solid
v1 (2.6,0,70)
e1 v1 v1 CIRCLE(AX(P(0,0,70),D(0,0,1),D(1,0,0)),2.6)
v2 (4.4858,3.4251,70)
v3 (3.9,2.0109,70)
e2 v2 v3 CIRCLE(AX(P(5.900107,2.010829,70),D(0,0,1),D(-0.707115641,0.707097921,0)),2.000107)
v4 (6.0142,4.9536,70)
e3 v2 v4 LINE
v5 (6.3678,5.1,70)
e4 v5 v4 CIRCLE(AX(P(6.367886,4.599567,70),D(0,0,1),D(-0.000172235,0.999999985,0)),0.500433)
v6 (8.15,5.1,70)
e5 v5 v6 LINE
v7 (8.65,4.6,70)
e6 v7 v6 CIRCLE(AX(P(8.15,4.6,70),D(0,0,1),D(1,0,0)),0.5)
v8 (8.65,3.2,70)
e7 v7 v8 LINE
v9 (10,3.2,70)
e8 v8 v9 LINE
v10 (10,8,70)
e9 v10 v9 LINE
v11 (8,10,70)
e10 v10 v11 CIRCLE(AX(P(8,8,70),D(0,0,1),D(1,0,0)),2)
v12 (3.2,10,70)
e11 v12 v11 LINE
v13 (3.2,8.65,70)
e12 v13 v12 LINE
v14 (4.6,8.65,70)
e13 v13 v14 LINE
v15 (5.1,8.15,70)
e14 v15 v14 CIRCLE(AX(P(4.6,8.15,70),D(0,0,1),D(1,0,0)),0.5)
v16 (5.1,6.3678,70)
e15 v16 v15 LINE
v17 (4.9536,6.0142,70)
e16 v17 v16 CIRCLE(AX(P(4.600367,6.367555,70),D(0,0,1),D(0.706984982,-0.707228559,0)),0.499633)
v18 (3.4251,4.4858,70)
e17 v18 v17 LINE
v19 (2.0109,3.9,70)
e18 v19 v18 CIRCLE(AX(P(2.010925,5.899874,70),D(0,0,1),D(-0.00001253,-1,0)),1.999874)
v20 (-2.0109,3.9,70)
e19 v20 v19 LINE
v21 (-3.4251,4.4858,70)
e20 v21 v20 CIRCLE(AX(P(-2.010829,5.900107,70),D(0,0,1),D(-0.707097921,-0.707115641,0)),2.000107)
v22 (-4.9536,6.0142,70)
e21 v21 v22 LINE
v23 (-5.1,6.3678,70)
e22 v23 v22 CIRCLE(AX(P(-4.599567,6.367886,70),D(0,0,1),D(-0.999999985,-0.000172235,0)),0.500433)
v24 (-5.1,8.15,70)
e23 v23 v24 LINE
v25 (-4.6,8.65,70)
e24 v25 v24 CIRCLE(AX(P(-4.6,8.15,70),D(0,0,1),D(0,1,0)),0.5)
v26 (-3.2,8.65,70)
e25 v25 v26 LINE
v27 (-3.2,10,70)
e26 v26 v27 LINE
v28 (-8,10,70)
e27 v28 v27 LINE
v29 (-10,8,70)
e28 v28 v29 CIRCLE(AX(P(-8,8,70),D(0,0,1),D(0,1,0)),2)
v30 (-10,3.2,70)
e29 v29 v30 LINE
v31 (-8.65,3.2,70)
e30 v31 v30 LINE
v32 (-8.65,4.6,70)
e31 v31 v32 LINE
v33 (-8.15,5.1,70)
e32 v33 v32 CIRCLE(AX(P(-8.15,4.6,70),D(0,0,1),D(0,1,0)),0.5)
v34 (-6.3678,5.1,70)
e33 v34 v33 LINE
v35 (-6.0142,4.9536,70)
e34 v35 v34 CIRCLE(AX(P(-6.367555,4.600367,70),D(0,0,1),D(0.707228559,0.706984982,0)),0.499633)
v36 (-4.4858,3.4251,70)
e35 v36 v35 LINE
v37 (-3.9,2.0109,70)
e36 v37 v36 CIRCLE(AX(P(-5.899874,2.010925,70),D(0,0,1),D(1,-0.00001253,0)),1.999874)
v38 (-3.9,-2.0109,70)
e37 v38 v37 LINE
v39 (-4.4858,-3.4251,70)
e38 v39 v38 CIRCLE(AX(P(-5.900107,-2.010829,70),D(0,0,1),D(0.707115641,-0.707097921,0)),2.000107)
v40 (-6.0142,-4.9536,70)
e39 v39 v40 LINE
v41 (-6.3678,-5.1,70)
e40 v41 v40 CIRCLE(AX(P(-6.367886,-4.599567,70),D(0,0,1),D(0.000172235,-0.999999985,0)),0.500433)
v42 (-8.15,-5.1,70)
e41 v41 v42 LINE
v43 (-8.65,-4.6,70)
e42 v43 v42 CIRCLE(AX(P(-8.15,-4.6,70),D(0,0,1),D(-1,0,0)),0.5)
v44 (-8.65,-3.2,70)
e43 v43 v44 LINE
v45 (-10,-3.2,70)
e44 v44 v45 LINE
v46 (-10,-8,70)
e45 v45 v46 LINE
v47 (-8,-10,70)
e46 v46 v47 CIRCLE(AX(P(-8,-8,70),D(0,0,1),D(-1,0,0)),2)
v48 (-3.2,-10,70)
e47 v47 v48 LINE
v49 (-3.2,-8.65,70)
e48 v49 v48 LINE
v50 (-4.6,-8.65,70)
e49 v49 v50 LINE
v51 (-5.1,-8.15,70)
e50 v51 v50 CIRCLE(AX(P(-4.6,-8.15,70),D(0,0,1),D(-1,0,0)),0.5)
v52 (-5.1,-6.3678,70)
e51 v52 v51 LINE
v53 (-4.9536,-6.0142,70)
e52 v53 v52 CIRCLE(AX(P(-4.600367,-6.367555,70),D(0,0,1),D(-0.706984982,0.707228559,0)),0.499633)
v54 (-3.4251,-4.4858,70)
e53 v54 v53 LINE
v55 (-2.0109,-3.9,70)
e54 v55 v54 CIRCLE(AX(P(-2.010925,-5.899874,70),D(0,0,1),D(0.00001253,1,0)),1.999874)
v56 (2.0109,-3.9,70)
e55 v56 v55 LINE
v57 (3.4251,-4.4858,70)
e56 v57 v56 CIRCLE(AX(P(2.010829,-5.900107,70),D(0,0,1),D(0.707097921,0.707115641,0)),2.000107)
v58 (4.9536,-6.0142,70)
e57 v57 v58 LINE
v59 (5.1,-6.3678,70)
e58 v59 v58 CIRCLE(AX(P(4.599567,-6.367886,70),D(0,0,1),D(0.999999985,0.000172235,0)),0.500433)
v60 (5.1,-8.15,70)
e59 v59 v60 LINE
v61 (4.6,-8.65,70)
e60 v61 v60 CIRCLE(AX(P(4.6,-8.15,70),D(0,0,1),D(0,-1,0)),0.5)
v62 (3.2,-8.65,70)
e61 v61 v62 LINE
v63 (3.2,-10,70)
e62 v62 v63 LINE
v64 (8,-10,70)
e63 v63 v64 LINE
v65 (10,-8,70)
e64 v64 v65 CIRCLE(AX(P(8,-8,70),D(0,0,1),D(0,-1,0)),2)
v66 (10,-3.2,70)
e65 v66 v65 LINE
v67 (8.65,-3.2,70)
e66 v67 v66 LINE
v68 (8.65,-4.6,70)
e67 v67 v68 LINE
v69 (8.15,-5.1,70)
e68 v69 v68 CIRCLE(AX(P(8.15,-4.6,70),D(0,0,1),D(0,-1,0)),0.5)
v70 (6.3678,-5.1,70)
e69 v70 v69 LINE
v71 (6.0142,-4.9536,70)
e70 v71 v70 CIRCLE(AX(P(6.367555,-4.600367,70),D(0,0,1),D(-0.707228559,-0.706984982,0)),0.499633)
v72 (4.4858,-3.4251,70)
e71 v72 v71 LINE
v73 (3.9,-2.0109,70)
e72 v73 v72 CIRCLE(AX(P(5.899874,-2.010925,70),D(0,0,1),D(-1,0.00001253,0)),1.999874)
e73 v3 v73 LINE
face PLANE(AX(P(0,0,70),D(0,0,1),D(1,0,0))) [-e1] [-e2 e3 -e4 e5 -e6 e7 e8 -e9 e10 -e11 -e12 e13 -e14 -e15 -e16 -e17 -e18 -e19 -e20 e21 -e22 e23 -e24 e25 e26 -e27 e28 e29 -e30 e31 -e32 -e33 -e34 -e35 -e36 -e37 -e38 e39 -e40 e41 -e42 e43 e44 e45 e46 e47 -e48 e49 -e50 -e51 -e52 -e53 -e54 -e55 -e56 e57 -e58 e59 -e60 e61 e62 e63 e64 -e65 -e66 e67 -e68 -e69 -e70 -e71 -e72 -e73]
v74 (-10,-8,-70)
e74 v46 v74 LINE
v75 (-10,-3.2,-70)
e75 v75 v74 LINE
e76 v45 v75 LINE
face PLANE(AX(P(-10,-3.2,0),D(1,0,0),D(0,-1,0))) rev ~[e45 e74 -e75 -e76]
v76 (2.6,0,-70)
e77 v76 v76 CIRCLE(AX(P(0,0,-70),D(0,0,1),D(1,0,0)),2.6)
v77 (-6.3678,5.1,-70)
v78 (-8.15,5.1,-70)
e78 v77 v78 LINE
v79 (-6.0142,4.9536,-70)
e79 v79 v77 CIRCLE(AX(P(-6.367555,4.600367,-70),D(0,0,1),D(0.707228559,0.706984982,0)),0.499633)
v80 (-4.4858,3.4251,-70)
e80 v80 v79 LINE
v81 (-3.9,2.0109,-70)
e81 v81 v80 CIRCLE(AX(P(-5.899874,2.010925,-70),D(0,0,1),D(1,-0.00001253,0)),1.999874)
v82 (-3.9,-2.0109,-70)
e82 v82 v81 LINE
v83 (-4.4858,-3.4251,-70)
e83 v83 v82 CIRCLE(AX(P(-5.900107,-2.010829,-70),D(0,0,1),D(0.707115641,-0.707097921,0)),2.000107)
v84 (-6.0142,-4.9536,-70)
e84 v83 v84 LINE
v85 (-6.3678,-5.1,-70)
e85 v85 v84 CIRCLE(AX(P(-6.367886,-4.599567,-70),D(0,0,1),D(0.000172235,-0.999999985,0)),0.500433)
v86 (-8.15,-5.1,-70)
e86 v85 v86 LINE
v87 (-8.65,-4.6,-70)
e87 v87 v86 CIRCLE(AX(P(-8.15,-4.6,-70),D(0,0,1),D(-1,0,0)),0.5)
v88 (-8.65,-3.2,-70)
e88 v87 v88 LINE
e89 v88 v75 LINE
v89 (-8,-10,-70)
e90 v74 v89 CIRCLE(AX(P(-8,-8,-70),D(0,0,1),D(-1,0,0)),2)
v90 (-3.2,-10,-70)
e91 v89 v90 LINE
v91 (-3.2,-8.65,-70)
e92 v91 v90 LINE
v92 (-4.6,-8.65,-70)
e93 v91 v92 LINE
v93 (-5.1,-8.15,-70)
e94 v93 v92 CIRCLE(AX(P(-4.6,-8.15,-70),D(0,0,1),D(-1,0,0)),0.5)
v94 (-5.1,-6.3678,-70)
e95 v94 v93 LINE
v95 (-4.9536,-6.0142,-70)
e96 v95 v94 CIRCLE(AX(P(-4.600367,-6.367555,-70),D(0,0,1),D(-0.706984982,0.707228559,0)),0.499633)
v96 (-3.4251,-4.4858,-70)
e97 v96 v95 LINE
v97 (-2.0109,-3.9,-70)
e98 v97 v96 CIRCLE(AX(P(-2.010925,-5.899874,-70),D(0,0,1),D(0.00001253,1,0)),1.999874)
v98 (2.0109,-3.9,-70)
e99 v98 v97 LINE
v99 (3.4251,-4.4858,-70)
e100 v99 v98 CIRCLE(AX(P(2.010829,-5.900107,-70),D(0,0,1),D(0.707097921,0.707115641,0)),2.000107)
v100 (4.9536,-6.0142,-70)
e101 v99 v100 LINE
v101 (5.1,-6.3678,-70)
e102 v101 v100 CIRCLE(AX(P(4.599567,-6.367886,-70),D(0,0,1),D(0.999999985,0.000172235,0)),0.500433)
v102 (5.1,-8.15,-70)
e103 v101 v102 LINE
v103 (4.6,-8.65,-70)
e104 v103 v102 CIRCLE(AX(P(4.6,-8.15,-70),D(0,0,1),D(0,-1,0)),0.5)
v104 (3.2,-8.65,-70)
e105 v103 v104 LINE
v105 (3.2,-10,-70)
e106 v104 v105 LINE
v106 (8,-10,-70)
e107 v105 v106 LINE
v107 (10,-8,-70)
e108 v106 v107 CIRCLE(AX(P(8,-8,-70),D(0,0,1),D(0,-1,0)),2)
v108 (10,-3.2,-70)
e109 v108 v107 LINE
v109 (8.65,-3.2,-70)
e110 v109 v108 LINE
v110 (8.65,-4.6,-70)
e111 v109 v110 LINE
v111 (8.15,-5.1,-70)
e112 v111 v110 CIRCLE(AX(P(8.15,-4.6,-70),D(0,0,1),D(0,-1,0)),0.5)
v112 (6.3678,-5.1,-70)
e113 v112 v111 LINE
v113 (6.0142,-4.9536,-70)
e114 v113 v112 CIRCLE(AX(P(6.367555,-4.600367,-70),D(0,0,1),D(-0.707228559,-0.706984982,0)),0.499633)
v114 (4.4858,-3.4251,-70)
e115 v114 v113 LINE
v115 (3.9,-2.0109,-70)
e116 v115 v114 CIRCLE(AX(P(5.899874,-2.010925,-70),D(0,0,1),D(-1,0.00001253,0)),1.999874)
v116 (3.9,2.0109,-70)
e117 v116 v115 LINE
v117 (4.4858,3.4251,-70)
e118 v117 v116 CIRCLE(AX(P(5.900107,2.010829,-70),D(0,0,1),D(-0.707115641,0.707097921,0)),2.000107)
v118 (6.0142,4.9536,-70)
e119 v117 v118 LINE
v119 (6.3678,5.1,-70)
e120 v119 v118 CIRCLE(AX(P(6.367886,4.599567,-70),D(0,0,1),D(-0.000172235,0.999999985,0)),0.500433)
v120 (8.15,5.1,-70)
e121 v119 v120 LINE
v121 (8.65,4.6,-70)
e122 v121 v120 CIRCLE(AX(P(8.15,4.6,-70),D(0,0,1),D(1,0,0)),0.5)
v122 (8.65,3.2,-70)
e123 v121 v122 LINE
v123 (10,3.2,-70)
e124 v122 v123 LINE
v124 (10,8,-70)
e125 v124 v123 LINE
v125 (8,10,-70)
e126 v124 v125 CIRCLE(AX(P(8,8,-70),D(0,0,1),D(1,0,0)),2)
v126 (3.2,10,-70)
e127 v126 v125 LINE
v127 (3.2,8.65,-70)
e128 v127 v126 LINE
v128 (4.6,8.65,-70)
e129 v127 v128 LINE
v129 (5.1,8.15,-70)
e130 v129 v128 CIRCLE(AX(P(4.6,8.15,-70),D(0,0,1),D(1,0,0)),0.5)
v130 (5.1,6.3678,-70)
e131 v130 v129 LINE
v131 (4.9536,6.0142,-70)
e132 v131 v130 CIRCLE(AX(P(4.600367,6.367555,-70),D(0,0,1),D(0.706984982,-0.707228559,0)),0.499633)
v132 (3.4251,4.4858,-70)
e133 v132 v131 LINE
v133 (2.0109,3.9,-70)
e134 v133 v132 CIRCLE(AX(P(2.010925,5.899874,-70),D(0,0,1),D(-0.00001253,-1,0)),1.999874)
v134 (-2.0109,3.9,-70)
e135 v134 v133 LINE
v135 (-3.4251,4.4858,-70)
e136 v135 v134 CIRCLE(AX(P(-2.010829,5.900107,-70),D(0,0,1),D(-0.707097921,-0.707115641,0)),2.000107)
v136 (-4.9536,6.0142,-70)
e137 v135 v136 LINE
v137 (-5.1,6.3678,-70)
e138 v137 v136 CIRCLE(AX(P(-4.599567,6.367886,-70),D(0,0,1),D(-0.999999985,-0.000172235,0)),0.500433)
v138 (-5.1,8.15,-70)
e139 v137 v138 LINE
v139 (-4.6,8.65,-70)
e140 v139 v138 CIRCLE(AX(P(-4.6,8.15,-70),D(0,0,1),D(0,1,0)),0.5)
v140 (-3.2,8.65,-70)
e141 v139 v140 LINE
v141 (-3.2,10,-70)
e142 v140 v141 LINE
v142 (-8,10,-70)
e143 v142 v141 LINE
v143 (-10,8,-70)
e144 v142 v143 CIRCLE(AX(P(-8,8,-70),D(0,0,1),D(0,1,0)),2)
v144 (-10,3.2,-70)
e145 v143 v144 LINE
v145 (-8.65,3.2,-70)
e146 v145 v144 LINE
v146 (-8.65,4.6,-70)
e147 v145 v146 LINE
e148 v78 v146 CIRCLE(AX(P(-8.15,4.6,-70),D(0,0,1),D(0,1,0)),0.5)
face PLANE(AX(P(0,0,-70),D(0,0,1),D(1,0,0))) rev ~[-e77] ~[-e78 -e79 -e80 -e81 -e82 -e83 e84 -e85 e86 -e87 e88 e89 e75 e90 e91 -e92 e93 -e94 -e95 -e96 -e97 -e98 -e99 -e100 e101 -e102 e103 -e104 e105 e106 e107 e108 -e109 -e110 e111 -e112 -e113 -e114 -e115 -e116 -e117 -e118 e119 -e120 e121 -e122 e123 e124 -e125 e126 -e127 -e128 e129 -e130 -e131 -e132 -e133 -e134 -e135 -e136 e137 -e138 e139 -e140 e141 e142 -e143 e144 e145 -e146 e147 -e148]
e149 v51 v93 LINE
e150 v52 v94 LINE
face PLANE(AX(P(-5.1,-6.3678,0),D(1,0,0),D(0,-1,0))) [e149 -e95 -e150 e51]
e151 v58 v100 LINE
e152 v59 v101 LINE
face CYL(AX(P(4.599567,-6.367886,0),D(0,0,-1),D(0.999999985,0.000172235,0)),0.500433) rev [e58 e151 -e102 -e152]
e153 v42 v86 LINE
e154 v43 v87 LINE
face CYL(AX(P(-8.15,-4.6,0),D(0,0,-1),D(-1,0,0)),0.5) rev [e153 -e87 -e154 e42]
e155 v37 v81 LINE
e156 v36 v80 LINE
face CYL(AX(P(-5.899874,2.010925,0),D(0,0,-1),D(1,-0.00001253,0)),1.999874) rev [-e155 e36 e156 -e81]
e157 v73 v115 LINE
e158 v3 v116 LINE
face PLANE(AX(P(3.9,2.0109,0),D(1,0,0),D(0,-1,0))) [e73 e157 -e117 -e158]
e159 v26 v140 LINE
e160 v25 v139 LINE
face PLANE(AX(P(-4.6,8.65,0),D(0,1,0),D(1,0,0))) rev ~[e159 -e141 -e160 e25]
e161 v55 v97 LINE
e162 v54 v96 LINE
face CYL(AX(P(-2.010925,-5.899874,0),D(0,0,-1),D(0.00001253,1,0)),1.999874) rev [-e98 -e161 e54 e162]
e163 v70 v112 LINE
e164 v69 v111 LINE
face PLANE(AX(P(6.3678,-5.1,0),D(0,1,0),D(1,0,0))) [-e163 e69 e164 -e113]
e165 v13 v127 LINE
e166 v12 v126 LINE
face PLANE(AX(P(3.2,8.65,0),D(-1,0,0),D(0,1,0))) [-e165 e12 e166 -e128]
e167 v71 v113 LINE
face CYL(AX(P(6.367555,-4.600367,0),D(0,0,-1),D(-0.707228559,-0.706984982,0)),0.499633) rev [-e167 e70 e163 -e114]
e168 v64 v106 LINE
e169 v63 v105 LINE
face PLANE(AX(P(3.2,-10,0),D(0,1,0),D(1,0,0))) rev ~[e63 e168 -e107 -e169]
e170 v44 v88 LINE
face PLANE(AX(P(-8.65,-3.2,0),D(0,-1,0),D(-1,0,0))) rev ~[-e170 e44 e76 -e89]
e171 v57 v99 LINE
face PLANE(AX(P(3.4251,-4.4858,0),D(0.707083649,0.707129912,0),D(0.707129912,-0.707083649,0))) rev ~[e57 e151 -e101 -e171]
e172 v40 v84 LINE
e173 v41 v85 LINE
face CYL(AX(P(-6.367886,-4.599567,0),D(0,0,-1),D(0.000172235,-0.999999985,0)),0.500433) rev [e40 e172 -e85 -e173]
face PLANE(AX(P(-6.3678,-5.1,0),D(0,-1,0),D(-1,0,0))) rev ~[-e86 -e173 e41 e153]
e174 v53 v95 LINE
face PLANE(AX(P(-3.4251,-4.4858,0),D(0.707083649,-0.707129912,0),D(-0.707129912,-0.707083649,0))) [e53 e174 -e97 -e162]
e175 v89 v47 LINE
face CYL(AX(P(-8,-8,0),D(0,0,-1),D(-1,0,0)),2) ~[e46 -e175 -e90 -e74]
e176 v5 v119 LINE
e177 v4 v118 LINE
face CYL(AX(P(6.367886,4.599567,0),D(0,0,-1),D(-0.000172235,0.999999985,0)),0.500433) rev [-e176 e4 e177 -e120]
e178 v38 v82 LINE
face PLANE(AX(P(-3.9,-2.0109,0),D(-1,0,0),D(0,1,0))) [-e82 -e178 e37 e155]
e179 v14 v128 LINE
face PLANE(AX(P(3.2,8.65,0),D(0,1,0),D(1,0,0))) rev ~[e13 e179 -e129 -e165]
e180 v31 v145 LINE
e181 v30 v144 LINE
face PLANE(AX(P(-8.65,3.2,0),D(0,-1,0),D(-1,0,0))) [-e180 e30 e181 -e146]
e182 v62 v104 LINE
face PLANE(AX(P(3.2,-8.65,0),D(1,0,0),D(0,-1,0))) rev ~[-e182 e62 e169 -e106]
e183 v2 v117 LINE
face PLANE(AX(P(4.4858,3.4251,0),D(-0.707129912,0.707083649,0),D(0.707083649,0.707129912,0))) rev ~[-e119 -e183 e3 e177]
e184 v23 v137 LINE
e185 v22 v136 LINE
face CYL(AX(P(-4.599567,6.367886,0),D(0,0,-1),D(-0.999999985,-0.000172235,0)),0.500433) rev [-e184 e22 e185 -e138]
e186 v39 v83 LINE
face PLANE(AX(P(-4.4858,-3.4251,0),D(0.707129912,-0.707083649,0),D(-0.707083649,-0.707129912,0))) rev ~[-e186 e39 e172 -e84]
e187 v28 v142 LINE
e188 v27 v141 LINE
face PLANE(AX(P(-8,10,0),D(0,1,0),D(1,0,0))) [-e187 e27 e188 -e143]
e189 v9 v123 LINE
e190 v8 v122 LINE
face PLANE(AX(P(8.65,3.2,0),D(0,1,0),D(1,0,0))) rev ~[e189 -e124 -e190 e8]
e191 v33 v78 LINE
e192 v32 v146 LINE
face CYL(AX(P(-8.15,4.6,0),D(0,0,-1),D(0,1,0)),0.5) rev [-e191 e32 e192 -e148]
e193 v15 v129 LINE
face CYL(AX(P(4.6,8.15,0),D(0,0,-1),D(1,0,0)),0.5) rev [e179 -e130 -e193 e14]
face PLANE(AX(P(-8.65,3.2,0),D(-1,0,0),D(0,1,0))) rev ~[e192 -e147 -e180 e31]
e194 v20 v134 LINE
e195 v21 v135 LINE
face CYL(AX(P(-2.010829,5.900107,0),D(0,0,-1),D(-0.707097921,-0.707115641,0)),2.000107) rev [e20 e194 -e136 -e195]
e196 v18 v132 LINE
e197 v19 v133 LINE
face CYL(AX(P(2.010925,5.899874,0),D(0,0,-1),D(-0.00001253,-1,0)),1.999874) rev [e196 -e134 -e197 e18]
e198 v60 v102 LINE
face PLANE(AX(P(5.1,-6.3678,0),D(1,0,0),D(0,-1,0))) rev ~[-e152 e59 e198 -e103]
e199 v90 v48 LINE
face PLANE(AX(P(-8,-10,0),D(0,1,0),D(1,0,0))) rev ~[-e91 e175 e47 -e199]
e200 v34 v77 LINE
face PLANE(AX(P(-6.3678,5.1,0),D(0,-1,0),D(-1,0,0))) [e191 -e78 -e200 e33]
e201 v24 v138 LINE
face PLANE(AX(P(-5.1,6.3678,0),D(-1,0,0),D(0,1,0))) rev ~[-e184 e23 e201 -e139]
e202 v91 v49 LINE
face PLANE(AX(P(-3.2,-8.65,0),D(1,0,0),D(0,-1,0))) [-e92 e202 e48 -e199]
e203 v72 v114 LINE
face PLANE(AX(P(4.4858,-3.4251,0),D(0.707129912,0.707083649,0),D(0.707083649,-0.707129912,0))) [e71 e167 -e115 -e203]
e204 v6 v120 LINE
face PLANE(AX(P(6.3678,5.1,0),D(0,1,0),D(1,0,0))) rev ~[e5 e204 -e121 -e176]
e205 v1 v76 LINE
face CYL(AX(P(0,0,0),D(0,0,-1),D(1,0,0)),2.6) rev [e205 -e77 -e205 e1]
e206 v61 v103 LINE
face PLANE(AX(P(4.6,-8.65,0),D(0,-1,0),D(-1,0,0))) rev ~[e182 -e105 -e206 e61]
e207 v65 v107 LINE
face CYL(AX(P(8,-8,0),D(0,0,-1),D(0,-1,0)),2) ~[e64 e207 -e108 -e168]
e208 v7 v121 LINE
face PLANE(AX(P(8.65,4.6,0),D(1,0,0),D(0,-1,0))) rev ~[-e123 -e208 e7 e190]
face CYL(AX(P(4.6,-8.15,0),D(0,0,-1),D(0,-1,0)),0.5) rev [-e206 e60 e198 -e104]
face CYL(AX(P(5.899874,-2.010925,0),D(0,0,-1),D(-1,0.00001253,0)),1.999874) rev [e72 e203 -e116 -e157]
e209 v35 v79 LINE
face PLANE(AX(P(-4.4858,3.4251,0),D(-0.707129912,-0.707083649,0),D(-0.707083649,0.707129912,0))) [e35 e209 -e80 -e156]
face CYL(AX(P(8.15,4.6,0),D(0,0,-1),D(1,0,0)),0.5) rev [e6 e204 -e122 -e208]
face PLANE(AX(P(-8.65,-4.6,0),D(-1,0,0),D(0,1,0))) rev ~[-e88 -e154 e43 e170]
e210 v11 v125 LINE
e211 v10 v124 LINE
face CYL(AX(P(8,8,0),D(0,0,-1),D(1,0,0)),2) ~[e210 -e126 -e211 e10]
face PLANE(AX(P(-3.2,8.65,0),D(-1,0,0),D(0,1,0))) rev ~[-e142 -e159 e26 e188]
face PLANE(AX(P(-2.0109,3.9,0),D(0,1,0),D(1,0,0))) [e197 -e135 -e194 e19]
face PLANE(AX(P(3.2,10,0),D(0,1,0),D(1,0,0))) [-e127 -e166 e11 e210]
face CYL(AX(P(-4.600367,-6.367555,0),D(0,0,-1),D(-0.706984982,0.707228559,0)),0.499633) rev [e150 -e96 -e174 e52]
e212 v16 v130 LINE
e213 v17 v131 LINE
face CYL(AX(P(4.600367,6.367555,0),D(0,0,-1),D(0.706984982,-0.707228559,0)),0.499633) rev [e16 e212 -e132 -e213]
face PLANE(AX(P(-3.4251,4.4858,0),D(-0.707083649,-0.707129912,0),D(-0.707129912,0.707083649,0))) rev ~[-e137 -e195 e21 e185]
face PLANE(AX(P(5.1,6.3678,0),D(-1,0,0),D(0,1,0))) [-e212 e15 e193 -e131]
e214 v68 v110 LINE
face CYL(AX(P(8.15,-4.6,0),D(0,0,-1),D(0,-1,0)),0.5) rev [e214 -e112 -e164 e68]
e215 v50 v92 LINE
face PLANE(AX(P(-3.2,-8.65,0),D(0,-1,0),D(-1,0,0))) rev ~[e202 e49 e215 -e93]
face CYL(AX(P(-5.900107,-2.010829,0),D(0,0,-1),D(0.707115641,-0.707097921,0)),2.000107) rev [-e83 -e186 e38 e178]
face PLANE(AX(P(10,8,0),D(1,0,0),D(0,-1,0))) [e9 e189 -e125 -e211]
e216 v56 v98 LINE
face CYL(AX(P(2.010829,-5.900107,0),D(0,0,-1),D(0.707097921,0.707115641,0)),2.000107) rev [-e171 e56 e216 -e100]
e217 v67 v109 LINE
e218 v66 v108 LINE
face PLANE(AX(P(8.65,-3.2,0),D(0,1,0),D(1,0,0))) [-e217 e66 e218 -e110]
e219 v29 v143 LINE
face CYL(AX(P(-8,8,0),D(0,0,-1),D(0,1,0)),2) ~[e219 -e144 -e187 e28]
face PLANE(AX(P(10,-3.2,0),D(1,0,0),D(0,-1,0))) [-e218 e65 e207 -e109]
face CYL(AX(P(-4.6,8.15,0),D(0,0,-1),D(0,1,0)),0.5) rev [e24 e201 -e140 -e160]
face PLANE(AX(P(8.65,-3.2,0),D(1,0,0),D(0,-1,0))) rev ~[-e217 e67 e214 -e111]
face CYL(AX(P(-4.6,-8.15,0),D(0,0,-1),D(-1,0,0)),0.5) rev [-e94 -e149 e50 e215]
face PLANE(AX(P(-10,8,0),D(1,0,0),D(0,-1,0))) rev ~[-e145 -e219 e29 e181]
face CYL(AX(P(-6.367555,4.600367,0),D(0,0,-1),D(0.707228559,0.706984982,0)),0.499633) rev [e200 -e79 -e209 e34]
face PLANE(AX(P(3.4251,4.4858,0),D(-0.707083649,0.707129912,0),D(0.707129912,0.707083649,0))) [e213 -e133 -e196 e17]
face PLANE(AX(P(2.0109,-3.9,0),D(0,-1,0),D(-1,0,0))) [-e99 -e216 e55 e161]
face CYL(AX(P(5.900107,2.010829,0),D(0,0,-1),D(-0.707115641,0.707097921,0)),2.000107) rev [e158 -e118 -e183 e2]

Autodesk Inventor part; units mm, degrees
ref_plane "YZ Plane" through (0, 0, 0) normal (1, 0, 0) x (0, 1, 0)
ref_plane "XZ Plane" through (0, 0, 0) normal (0, 1, 0) x (-1, 0, 0)
ref_plane "XY Plane" through (0, 0, 0) normal (0, 0, 1) x (1, 0, 0)
sketch "Sketch1" plane through (0, 0, 0) normal (0, 0, 1) x (1, 0, 0)
  line L0 (-8, -10) -> (-3.2, -10)
  arc A0 (-10, -8) -> (-8, -10) centre (-8, -8) ccw
  line L1 (3.2, -10) -> (8, -10)
  line L2 (-8, 10) -> (-3.2, 10)
  line L3 (3.2, 10) -> (8, 10)
  line L4 (-10, 8) -> (-10, 3.2)
  arc A1 (-8, 10) -> (-10, 8) centre (-8, 8) ccw
  line L5 (-10, -3.2) -> (-10, -8)
  line L6 (10, 8) -> (10, 3.2)
  arc A2 (10, 8) -> (8, 10) centre (8, 8) ccw
  line L7 (10, -3.2) -> (10, -8)
  arc A3 (8, -10) -> (10, -8) centre (8, -8) ccw
  circle A4 centre (0, 0) radius 2.6
  line L8 (8.65, 4.6) -> (8.65, 3.2)
  line L9 (8.65, -3.2) -> (8.65, -4.6)
  arc A5 (8.15, -5.1) -> (8.65, -4.6) centre (8.15, -4.6) ccw
  arc A6 (8.65, 4.6) -> (8.15, 5.1) centre (8.15, 4.6) ccw
  line L10 (3.9, 2.0109) -> (3.9, -2.0109)
  arc A7 (4.4858, 3.4251) -> (3.9, 2.0109) centre (5.9, 2.0109) ccw
  line L11 (8.65, 3.2) -> (10, 3.2)
  line L12 (8.65, -3.2) -> (10, -3.2)
  line L13 (6.3678, -5.1) -> (8.15, -5.1)
  arc A8 (6.0142, -4.9536) -> (6.3678, -5.1) centre (6.3678, -4.6) ccw
  line L14 (6.3678, 5.1) -> (8.15, 5.1)
  arc A9 (6.3678, 5.1) -> (6.0142, 4.9536) centre (6.3678, 4.6) ccw
  line L15 (4.4858, 3.4251) -> (6.0142, 4.9536)
  line L16 (4.4858, -3.4251) -> (6.0142, -4.9536)
  arc A10 (3.9, -2.0109) -> (4.4858, -3.4251) centre (5.9, -2.0109) ccw
  line L17 (-4.6, 8.65) -> (-3.2, 8.65)
  line L18 (3.2, 8.65) -> (4.6, 8.65)
  arc A11 (5.1, 8.15) -> (4.6, 8.65) centre (4.6, 8.15) ccw
  arc A12 (-4.6, 8.65) -> (-5.1, 8.15) centre (-4.6, 8.15) ccw
  line L19 (-2.0109, 3.9) -> (2.0109, 3.9)
  arc A13 (-3.4251, 4.4858) -> (-2.0109, 3.9) centre (-2.0109, 5.9) ccw
  line L20 (-3.2, 8.65) -> (-3.2, 10)
  line L21 (3.2, 8.65) -> (3.2, 10)
  line L22 (5.1, 6.3678) -> (5.1, 8.15)
  arc A14 (4.9536, 6.0142) -> (5.1, 6.3678) centre (4.6, 6.3678) ccw
  line L23 (-5.1, 6.3678) -> (-5.1, 8.15)
  arc A15 (-5.1, 6.3678) -> (-4.9536, 6.0142) centre (-4.6, 6.3678) ccw
  line L24 (-3.4251, 4.4858) -> (-4.9536, 6.0142)
  line L25 (3.4251, 4.4858) -> (4.9536, 6.0142)
  arc A16 (2.0109, 3.9) -> (3.4251, 4.4858) centre (2.0109, 5.9) ccw
  line L26 (-8.65, -4.6) -> (-8.65, -3.2)
  line L27 (-8.65, 3.2) -> (-8.65, 4.6)
  arc A17 (-8.15, 5.1) -> (-8.65, 4.6) centre (-8.15, 4.6) ccw
  arc A18 (-8.65, -4.6) -> (-8.15, -5.1) centre (-8.15, -4.6) ccw
  line L28 (-3.9, -2.0109) -> (-3.9, 2.0109)
  arc A19 (-4.4858, -3.4251) -> (-3.9, -2.0109) centre (-5.9, -2.0109) ccw
  line L29 (-8.65, -3.2) -> (-10, -3.2)
  line L30 (-8.65, 3.2) -> (-10, 3.2)
  line L31 (-6.3678, 5.1) -> (-8.15, 5.1)
  arc A20 (-6.0142, 4.9536) -> (-6.3678, 5.1) centre (-6.3678, 4.6) ccw
  line L32 (-6.3678, -5.1) -> (-8.15, -5.1)
  arc A21 (-6.3678, -5.1) -> (-6.0142, -4.9536) centre (-6.3678, -4.6) ccw
  line L33 (-4.4858, -3.4251) -> (-6.0142, -4.9536)
  line L34 (-4.4858, 3.4251) -> (-6.0142, 4.9536)
  arc A22 (-3.9, 2.0109) -> (-4.4858, 3.4251) centre (-5.9, 2.0109) ccw
  line L35 (4.6, -8.65) -> (3.2, -8.65)
  line L36 (-3.2, -8.65) -> (-4.6, -8.65)
  arc A23 (-5.1, -8.15) -> (-4.6, -8.65) centre (-4.6, -8.15) ccw
  arc A24 (4.6, -8.65) -> (5.1, -8.15) centre (4.6, -8.15) ccw
  line L37 (2.0109, -3.9) -> (-2.0109, -3.9)
  arc A25 (3.4251, -4.4858) -> (2.0109, -3.9) centre (2.0109, -5.9) ccw
  line L38 (3.2, -8.65) -> (3.2, -10)
  line L39 (-3.2, -8.65) -> (-3.2, -10)
  line L40 (-5.1, -6.3678) -> (-5.1, -8.15)
  arc A26 (-4.9536, -6.0142) -> (-5.1, -6.3678) centre (-4.6, -6.3678) ccw
  line L41 (5.1, -6.3678) -> (5.1, -8.15)
  arc A27 (5.1, -6.3678) -> (4.9536, -6.0142) centre (4.6, -6.3678) ccw
  line L42 (3.4251, -4.4858) -> (4.9536, -6.0142)
  line L43 (-3.4251, -4.4858) -> (-4.9536, -6.0142)
  arc A28 (-2.0109, -3.9) -> (-3.4251, -4.4858) centre (-2.0109, -5.9) ccw
  dimension "d0" = 0.5
  dimension "d1" = 2
  dimension "d2" = 5.2
  dimension "d3" = 45
  dimension "d4" = 45
  dimension "d5" = 45
  dimension "d6" = 90
  dimension "d7" = 90
  dimension "d8" = 45
  dimension "d9" = 45
  dimension "d10" = 90
  dimension "d11" = 90
  dimension "d12" = 90
  dimension "d13" = 90
  dimension "d14" = 90
  dimension "d15" = 90
  dimension "d16" = 90
  dimension "d17" = 90
  dimension "d18" = 90
  dimension "d19" = 90
  dimension "d20" = 90
  dimension "d21" = 90
  dimension "d22" = 90
  dimension "d23" = 90
  dimension "d24" = 1.35
  dimension "d25" = 4.9
  dimension "d26" = 6.1
  dimension "d27" = 6.8
  dimension "d28" = 13.2
  dimension "d29" = 13.9
  dimension "d30" = 15.1
  dimension "d31" = 18.65
  dimension "d32" = 20
  dimension "d33" = 6.4
  dimension "d34" = 1.9
  dimension "d35" = 8.3
  dimension "d36" = 6.8
  dimension "d37" = 13.2
  dimension "d38" = 5.45
  dimension "d39" = 11.85
  dimension "d40" = 0.7
  dimension "d41" = 7.1
  dimension "d42" = 1.5
  dimension "d43" = 1.5
  dimension "d44" = 10
  dimension "d45" = 10
  dimension "d46" = 3.2
  dimension "d47" = 8.65
  dimension "d48" = 0.75
  dimension "d49" = 0.75
  dimension "d50" = 5.1
  dimension "d51" = 0.75
  dimension "d52" = 3.2
  dimension "d53" = 3.2
  dimension "d54" = 8.65
  dimension "d55" = 8.65
  dimension "d56" = 0.75
  dimension "d57" = 0.75
  dimension "d58" = 5.1
  dimension "d59" = 0.75
  dimension "d60" = 10
  dimension "d61" = 10
  dimension "d62" = 5.1
  dimension "d63" = 5.1
extrude "Extrusion1" add sketch "Sketch1" along normal mid plane 140
equation "\"d70\" = bed_frame_width - 2 * bed_extrusion_size"
equation "\"platform_width\" = 214"
equation "\"platform_depth\" = 214"
equation "\"bed_cl_y_offset\" = 173.25"
equation "\"bed_frame_width\" = 180"
equation "\"bed_extrusion_size\" = 20"
properties part number "2020 Extrusion - Bed rear" material "Aluminum 6061"
